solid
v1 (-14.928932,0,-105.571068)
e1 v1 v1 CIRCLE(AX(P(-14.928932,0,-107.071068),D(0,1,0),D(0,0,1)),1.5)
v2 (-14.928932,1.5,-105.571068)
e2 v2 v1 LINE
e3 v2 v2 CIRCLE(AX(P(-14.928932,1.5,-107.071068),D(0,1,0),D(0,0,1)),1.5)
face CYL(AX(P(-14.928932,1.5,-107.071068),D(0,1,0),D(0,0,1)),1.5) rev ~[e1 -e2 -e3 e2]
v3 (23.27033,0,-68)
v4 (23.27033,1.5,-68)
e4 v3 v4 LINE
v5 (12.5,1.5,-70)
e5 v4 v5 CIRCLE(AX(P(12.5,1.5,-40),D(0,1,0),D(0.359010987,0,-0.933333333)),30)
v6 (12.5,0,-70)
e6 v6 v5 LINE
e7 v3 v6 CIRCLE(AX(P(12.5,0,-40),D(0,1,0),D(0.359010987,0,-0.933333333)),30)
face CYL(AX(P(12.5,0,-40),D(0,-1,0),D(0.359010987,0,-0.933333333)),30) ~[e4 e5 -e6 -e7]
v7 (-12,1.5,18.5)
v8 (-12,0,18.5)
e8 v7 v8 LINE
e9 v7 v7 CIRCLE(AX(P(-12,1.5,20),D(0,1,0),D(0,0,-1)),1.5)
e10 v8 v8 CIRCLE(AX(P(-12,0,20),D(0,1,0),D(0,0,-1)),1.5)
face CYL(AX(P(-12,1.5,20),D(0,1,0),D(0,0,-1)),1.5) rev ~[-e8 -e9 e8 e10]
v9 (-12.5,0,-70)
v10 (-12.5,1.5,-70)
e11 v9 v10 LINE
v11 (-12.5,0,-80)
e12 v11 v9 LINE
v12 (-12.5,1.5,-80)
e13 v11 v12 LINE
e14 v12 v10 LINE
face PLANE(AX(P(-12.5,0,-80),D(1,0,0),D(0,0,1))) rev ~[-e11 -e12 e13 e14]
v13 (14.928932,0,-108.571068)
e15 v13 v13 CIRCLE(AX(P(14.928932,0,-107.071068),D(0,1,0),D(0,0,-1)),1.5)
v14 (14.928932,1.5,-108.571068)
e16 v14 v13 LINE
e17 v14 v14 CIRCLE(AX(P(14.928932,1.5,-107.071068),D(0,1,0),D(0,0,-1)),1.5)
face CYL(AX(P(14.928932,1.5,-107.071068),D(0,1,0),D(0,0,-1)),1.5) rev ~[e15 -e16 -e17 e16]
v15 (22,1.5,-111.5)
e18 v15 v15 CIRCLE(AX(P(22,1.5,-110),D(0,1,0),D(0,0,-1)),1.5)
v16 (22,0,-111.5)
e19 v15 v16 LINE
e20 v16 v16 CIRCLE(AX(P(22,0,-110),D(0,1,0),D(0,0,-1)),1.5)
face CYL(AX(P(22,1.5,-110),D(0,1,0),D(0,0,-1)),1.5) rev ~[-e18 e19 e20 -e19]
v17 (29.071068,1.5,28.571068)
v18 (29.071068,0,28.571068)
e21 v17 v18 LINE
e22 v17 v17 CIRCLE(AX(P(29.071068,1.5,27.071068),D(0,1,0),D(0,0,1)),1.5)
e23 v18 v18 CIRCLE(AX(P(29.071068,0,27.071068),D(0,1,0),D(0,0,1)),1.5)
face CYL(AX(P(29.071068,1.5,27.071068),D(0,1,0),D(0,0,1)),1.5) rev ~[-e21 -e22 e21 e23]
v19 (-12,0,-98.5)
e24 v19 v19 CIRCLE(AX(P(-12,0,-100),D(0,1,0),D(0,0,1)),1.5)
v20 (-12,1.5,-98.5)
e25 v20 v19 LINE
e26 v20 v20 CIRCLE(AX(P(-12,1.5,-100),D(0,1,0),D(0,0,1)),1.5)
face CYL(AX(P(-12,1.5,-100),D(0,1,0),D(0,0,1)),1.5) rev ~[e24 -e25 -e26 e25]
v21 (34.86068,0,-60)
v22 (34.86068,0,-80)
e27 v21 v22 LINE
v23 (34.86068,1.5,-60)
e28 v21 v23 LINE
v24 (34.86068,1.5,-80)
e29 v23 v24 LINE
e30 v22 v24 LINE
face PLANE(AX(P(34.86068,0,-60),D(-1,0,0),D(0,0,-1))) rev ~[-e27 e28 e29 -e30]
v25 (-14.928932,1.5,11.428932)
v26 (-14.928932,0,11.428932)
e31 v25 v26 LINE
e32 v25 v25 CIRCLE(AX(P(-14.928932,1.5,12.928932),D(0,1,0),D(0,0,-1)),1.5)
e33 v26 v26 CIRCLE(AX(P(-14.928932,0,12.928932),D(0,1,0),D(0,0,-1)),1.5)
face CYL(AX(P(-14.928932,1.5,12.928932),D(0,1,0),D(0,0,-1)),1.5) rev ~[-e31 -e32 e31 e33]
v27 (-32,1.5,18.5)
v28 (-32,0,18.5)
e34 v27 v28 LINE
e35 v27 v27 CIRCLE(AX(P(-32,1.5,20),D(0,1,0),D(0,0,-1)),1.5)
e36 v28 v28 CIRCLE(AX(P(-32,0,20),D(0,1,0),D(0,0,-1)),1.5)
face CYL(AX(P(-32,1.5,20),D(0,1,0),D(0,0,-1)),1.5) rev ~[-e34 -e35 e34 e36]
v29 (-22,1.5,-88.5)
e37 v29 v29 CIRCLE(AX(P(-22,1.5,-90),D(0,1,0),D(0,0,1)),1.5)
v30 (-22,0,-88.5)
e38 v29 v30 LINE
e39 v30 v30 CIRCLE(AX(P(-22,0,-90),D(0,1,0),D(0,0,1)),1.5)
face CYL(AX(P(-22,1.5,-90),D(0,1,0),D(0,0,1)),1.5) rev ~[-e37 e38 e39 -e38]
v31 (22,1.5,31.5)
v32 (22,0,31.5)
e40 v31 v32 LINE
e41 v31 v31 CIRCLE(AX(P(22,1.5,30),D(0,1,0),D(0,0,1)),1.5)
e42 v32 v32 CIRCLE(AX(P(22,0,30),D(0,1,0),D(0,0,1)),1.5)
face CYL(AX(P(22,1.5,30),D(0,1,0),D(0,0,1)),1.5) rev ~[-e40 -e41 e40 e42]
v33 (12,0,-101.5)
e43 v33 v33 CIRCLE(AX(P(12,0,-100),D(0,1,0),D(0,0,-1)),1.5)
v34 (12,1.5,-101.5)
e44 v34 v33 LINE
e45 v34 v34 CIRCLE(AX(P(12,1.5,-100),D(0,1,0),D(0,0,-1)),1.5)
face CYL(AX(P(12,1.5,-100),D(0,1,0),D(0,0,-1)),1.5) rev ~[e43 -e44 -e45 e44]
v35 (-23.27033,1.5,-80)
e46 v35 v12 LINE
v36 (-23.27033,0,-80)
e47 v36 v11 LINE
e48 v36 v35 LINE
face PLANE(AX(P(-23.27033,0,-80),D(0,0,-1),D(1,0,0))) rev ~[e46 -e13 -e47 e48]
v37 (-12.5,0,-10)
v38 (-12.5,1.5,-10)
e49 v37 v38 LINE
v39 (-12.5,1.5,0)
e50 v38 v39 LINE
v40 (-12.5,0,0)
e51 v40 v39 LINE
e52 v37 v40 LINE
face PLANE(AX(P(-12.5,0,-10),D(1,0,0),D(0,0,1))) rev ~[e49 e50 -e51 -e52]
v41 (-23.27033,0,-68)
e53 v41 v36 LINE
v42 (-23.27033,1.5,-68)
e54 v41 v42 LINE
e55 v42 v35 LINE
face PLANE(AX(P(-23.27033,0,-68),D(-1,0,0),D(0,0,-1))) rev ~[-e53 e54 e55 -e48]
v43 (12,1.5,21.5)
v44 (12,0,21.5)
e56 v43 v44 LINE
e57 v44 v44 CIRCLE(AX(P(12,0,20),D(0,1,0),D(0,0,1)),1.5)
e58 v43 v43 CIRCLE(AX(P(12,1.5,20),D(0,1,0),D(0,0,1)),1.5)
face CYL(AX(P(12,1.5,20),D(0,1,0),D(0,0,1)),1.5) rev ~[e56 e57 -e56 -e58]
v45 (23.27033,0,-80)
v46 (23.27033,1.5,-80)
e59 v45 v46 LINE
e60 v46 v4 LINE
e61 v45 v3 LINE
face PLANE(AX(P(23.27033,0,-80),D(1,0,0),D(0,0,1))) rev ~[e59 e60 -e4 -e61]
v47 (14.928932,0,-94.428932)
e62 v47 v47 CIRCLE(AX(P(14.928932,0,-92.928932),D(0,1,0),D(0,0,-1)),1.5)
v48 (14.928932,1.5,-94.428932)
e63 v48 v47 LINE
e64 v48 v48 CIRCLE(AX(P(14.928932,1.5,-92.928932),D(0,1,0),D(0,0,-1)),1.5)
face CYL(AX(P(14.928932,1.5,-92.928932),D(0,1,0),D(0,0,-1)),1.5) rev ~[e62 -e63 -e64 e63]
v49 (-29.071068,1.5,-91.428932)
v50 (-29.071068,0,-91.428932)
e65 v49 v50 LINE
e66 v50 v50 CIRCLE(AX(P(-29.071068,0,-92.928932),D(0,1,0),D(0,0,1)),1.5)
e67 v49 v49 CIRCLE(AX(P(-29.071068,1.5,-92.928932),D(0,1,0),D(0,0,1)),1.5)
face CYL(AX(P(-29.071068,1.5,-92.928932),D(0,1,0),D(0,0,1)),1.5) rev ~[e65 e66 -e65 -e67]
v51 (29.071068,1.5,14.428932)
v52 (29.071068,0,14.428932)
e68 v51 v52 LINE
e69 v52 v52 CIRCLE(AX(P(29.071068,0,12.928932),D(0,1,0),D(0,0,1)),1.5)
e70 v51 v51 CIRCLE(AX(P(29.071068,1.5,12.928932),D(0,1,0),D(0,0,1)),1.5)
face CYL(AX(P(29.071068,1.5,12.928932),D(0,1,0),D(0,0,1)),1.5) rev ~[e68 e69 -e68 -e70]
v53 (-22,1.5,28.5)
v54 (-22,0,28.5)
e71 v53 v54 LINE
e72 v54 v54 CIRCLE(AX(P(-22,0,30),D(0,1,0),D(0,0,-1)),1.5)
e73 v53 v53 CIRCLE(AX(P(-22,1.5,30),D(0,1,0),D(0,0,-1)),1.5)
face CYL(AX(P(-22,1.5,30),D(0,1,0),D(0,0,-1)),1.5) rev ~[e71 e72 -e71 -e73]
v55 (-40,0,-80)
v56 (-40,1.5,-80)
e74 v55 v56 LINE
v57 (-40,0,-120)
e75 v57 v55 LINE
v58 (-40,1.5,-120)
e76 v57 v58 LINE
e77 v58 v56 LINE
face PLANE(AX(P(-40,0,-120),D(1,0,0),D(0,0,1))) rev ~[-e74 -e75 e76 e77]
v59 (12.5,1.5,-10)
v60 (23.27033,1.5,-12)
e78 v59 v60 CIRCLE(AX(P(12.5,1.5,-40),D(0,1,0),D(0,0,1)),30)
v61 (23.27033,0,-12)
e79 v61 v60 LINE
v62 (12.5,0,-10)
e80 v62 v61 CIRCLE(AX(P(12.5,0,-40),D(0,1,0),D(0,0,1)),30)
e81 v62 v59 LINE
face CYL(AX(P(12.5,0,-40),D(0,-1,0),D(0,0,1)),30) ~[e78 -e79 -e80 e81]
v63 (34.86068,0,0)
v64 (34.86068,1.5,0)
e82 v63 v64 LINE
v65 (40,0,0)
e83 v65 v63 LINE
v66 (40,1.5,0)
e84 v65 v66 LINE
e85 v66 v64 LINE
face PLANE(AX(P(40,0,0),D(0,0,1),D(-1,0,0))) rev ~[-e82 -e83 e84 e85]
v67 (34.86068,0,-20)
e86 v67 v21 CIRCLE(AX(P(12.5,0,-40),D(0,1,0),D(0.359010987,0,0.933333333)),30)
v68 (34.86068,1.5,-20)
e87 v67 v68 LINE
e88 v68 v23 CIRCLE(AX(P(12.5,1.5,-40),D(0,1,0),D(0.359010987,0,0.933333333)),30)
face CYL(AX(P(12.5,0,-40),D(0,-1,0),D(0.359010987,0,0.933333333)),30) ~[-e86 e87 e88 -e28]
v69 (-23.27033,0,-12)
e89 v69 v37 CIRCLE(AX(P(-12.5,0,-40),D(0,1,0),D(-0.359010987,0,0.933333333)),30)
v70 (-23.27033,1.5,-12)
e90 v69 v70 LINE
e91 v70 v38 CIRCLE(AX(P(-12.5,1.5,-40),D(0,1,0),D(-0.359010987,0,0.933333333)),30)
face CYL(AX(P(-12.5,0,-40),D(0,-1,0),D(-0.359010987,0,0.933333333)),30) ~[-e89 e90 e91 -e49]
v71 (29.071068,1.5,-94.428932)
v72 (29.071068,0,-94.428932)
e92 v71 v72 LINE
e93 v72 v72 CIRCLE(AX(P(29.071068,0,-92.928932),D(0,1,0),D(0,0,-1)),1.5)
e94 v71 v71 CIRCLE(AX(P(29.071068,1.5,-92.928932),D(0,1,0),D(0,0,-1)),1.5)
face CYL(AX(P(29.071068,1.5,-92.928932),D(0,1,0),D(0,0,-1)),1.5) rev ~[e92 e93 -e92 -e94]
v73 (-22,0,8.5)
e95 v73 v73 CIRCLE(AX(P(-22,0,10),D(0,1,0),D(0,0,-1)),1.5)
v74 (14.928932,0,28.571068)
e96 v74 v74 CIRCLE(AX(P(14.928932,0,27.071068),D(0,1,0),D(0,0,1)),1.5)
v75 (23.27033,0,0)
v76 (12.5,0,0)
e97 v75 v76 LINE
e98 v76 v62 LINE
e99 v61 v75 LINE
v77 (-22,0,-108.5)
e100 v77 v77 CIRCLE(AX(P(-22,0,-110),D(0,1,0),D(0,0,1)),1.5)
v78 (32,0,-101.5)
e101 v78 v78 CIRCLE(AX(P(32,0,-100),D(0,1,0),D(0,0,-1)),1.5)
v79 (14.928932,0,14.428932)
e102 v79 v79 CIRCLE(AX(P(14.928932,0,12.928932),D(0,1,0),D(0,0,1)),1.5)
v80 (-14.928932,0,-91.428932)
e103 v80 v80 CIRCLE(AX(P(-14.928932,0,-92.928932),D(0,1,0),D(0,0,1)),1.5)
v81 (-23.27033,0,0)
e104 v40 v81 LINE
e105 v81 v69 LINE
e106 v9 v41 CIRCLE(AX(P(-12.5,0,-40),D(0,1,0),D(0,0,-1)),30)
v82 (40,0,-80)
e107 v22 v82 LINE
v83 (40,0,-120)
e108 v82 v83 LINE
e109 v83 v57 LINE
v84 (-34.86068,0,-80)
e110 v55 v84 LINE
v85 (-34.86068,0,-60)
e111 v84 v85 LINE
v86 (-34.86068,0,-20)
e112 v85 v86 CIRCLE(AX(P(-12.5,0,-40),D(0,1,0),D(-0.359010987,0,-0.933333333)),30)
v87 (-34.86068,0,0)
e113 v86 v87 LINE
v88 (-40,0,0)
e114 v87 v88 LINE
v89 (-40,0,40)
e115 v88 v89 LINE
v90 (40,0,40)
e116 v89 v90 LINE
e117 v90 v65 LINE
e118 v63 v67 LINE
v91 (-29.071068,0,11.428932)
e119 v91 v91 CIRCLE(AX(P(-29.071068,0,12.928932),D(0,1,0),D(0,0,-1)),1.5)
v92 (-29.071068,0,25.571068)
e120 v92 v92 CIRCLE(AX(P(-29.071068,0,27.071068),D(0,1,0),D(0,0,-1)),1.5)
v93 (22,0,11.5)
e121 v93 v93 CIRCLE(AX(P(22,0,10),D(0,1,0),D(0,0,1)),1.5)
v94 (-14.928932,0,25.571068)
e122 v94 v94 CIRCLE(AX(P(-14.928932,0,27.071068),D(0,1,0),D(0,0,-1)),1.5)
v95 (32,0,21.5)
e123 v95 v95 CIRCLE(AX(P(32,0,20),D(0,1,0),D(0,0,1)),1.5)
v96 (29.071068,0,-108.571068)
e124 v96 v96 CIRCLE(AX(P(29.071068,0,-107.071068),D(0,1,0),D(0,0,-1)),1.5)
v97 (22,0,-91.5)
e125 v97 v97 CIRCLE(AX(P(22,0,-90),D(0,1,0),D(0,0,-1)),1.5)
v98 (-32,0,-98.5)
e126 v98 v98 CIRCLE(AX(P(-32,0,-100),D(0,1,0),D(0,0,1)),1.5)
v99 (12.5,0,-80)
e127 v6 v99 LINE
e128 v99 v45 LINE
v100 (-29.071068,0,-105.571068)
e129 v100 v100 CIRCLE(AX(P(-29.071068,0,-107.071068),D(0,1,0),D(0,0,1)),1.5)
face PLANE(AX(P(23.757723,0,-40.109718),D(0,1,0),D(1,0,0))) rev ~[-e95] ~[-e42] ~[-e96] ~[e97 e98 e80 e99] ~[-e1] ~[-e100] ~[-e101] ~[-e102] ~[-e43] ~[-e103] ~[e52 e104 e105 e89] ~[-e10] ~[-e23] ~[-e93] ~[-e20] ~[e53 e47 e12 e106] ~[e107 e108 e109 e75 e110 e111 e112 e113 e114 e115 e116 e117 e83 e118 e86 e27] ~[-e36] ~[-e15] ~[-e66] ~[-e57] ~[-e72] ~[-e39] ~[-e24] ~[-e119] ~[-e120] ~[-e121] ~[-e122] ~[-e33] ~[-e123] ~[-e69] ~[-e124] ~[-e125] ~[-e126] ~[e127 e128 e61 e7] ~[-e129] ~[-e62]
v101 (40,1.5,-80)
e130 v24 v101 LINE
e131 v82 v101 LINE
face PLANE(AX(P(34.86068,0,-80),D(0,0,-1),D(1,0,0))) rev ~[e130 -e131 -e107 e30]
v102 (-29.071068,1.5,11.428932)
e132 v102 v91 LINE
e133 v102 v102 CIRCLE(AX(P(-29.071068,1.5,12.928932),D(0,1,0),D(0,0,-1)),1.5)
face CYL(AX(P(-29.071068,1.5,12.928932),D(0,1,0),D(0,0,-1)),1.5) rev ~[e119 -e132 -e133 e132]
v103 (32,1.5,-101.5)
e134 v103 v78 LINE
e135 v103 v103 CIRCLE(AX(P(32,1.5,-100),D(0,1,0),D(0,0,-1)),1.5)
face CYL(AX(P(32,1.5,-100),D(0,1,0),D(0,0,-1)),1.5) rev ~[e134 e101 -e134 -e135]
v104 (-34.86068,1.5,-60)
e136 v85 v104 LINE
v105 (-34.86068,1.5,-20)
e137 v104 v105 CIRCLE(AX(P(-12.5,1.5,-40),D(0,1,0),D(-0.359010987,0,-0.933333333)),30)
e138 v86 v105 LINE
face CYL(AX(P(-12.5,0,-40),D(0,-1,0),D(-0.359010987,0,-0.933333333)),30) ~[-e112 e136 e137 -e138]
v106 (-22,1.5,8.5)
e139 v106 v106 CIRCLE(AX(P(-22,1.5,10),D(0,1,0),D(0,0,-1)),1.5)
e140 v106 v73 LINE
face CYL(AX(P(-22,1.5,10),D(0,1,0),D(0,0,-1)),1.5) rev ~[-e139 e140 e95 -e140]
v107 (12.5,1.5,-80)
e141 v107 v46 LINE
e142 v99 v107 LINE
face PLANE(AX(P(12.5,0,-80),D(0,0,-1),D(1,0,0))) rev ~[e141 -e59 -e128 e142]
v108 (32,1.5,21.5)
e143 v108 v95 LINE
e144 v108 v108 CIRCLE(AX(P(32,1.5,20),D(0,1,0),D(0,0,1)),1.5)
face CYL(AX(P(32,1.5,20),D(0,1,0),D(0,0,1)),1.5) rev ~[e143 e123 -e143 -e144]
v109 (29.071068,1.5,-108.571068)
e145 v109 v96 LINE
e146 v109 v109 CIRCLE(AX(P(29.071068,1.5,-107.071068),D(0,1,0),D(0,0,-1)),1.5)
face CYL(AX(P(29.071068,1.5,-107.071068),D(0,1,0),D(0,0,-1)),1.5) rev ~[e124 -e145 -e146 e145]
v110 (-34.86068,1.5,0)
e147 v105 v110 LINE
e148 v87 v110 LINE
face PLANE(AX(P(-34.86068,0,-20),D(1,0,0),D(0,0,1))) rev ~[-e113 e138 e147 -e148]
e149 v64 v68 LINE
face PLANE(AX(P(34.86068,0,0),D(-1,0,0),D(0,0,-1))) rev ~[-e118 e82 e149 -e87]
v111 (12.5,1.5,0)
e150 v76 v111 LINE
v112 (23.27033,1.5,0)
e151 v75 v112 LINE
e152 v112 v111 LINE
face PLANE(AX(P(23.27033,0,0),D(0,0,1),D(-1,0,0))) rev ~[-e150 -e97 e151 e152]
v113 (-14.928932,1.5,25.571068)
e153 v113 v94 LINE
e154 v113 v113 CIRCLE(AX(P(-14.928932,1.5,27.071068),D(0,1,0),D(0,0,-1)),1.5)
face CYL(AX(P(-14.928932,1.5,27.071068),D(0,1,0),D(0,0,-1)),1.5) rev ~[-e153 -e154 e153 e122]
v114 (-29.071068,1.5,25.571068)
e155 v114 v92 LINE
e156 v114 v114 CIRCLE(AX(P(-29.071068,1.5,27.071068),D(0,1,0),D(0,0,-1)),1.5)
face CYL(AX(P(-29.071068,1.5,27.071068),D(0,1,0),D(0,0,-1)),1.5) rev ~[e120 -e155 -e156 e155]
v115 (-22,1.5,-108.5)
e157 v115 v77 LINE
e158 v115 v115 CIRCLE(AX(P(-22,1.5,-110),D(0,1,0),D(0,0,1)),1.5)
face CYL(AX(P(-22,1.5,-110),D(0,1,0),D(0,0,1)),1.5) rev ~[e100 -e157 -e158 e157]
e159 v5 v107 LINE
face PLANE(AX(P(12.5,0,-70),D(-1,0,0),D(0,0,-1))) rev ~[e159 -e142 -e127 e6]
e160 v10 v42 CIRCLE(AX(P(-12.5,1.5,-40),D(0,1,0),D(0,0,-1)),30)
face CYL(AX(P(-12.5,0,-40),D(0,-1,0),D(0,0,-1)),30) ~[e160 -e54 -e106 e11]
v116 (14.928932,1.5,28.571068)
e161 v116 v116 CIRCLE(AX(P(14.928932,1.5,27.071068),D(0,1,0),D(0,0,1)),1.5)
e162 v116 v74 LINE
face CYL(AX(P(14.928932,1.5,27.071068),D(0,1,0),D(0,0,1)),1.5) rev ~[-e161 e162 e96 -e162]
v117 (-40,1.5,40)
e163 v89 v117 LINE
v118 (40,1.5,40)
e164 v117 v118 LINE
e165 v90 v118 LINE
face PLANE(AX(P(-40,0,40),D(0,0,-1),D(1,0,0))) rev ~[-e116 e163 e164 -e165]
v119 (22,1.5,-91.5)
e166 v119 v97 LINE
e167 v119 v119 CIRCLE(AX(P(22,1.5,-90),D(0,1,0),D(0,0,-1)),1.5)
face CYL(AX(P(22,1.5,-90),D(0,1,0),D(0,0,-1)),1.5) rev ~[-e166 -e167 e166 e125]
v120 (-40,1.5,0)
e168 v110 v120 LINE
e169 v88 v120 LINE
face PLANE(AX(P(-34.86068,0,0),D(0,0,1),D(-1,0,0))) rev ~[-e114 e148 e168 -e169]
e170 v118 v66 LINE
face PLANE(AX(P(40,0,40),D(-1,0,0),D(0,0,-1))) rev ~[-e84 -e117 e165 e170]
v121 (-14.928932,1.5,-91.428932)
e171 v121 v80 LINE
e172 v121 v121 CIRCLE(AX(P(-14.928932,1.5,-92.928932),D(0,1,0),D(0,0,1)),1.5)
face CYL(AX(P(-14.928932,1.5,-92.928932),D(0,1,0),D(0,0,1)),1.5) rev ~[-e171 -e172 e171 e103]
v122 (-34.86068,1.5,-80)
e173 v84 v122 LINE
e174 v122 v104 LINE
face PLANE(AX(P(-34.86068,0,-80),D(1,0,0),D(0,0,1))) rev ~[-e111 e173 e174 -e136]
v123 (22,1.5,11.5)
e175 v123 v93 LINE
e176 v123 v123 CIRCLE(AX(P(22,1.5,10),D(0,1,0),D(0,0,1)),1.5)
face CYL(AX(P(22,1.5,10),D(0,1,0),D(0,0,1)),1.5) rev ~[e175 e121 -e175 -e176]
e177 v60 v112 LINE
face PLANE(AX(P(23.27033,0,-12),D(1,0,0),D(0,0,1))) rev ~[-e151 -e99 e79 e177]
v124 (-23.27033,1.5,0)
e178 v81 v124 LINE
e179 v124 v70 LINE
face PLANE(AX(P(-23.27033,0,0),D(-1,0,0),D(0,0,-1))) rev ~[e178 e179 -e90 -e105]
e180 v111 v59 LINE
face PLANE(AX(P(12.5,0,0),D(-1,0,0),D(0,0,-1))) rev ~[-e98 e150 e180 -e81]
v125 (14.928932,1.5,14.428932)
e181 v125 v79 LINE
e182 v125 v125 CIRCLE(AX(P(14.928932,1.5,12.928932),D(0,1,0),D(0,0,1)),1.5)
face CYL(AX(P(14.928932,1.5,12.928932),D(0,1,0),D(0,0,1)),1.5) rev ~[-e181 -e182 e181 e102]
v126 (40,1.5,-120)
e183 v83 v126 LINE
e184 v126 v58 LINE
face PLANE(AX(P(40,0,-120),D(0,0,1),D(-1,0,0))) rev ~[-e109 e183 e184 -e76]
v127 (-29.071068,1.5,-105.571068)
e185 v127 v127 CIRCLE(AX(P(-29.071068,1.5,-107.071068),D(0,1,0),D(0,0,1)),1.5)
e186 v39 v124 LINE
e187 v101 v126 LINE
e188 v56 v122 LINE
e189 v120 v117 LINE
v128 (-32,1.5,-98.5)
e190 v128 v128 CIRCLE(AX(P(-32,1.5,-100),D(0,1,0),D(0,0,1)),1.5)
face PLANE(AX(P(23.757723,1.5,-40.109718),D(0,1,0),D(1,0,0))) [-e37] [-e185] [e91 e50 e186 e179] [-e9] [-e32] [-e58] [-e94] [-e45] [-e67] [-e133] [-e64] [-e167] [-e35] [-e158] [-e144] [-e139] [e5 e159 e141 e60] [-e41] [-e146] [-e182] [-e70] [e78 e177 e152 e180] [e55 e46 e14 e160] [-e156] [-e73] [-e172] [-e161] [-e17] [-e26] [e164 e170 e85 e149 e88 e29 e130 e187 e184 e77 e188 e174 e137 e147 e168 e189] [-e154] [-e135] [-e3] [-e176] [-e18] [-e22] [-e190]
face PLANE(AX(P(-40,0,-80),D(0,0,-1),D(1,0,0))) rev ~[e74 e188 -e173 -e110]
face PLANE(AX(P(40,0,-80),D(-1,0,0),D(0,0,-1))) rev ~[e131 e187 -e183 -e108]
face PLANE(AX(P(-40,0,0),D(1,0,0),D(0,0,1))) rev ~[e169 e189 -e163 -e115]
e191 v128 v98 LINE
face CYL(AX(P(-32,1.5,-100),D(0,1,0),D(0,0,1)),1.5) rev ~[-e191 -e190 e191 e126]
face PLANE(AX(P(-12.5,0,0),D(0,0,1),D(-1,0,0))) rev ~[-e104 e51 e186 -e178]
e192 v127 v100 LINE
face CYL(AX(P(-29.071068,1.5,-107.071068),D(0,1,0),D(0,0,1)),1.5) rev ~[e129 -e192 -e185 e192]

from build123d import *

# Parameters (mm, degrees)
SALIENTE_EXTRUIR1_DEPTH = 1.5
CROQUIS2_R              = 1.5
CORTAR_EXTRUIR1_DEPTH   = 1.5


with BuildPart() as part:
    # Croquis1 → Saliente-Extruir1 (new body)
    with BuildSketch(Plane(origin=(0, 0, 0), x_dir=(1, 0, 0), z_dir=(0, 1, 0))):
        with BuildLine():
            ThreePointArc((23.270329614, 12), (29.541594579, 15.310243942), (34.860679775, 20))
            ThreePointArc((34.860679775, 20), (42.5, 40), (34.860679775, 60))
            ThreePointArc((34.860679775, 60), (29.541594579, 64.689756058), (23.270329614, 68))
            ThreePointArc((23.270329614, 68), (17.977225575, 69.495762408), (12.5, 70))
            Line((12.5, 70), (12.5, 10))
            ThreePointArc((12.5, 10), (17.977225575, 10.504237592), (23.270329614, 12))
        make_face()
        Polygon((-40, 0), (-40, -40), (40, -40), (40, 0), (34.860679775, 0), (23.270329614, 0), (12.5, 0), (12.5, 10), (12.5, 70), (12.5, 80), (23.270329614, 80), (34.860679775, 80), (40, 80), (40, 120), (-40, 120), (-40, 80), (-34.860679775, 80), (-23.270329614, 80), (-12.5, 80), (-12.5, 70), (-12.5, 40), (-12.5, 10), (-12.5, 0), (-23.270329614, 0), (-34.860679775, 0), align=None)
        with BuildLine():
            ThreePointArc((-34.860679775, 60), (-42.5, 40), (-34.860679775, 20))
            ThreePointArc((-34.860679775, 20), (-29.541594579, 15.310243942), (-23.270329614, 12))
            ThreePointArc((-23.270329614, 12), (-17.977225575, 10.504237592), (-12.5, 10))
            Line((-12.5, 10), (-12.5, 40))
            Line((-12.5, 40), (-12.5, 70))
            ThreePointArc((-12.5, 70), (-17.977225575, 69.495762408), (-23.270329614, 68))
            ThreePointArc((-23.270329614, 68), (-29.541594579, 64.689756058), (-34.860679775, 60))
        make_face()
        with BuildLine():
            Line((23.270329614, 0), (34.860679775, 0))
            Line((34.860679775, 0), (34.860679775, 20))
            ThreePointArc((34.860679775, 20), (29.541594579, 15.310243942), (23.270329614, 12))
            Line((23.270329614, 12), (23.270329614, 0))
        make_face()
        with BuildLine():
            ThreePointArc((23.270329614, 68), (29.541594579, 64.689756058), (34.860679775, 60))
            Line((34.860679775, 60), (34.860679775, 80))
            Line((34.860679775, 80), (23.270329614, 80))
            Line((23.270329614, 80), (23.270329614, 68))
        make_face()
        with BuildLine():
            Line((-34.860679775, 80), (-34.860679775, 60))
            ThreePointArc((-34.860679775, 60), (-29.541594579, 64.689756058), (-23.270329614, 68))
            Line((-23.270329614, 68), (-23.270329614, 80))
            Line((-23.270329614, 80), (-34.860679775, 80))
        make_face()
        with BuildLine():
            Line((-34.860679775, 20), (-34.860679775, 0))
            Line((-34.860679775, 0), (-23.270329614, 0))
            Line((-23.270329614, 0), (-23.270329614, 12))
            ThreePointArc((-23.270329614, 12), (-29.541594579, 15.310243942), (-34.860679775, 20))
        make_face()
    extrude(amount=SALIENTE_EXTRUIR1_DEPTH)

    # Croquis2 → Cortar-Extruir1 (cut)
    with BuildSketch(Plane(origin=(0, 1.5, 0), x_dir=(1, 0, 0), z_dir=(0, 1, 0))):
        with Locations(Location((32, -20, 0), (0, 0, 270))):
            Circle(CROQUIS2_R)
        with Locations(Location((29.071067812, -27.071067812, 0), (0, 0, 270))):
            Circle(CROQUIS2_R)
        with Locations(Location((22, -30, 0), (0, 0, 270))):
            Circle(CROQUIS2_R)
        with Locations(Location((14.928932188, -27.071067812, 0), (0, 0, 270))):
            Circle(CROQUIS2_R)
        with Locations(Location((12, -20, 0), (0, 0, 270))):
            Circle(CROQUIS2_R)
        with Locations(Location((14.928932188, -12.928932188, 0), (0, 0, 270))):
            Circle(CROQUIS2_R)
        with Locations(Location((22, -10, 0), (0, 0, 270))):
            Circle(CROQUIS2_R)
        with Locations(Location((29.071067812, -12.928932188, 0), (0, 0, 270))):
            Circle(CROQUIS2_R)
        with Locations(Location((-29.071067812, -12.928932188, 0), (0, 0, 90))):
            Circle(CROQUIS2_R)
        with Locations(Location((-22, -10, 0), (0, 0, 90))):
            Circle(CROQUIS2_R)
        with Locations(Location((-14.928932188, -12.928932188, 0), (0, 0, 90))):
            Circle(CROQUIS2_R)
        with Locations(Location((-12, -20, 0), (0, 0, 90))):
            Circle(CROQUIS2_R)
        with Locations(Location((-14.928932188, -27.071067812, 0), (0, 0, 90))):
            Circle(CROQUIS2_R)
        with Locations(Location((-22, -30, 0), (0, 0, 90))):
            Circle(CROQUIS2_R)
        with Locations(Location((-29.071067812, -27.071067812, 0), (0, 0, 90))):
            Circle(CROQUIS2_R)
        with Locations(Location((-32, -20, 0), (0, 0, 90))):
            Circle(CROQUIS2_R)
        with Locations(Location((-32, 100, 0), (0, 0, 270))):
            Circle(CROQUIS2_R)
        with Locations(Location((-29.071067812, 107.071067812, 0), (0, 0, 270))):
            Circle(CROQUIS2_R)
        with Locations(Location((-22, 110, 0), (0, 0, 270))):
            Circle(CROQUIS2_R)
        with Locations(Location((-14.928932188, 107.071067812, 0), (0, 0, 270))):
            Circle(CROQUIS2_R)
        with Locations(Location((-12, 100, 0), (0, 0, 270))):
            Circle(CROQUIS2_R)
        with Locations(Location((-14.928932188, 92.928932188, 0), (0, 0, 270))):
            Circle(CROQUIS2_R)
        with Locations(Location((-22, 90, 0), (0, 0, 270))):
            Circle(CROQUIS2_R)
        with Locations(Location((-29.071067812, 92.928932188, 0), (0, 0, 270))):
            Circle(CROQUIS2_R)
        with Locations(Location((29.071067812, 92.928932188, 0), (0, 0, 90))):
            Circle(CROQUIS2_R)
        with Locations(Location((22, 90, 0), (0, 0, 90))):
            Circle(CROQUIS2_R)
        with Locations(Location((14.928932188, 92.928932188, 0), (0, 0, 90))):
            Circle(CROQUIS2_R)
        with Locations(Location((12, 100, 0), (0, 0, 90))):
            Circle(CROQUIS2_R)
        with Locations(Location((14.928932188, 107.071067812, 0), (0, 0, 90))):
            Circle(CROQUIS2_R)
        with Locations(Location((22, 110, 0), (0, 0, 90))):
            Circle(CROQUIS2_R)
        with Locations(Location((29.071067812, 107.071067812, 0), (0, 0, 90))):
            Circle(CROQUIS2_R)
        with Locations(Location((32, 100, 0), (0, 0, 90))):
            Circle(CROQUIS2_R)
    extrude(amount=-CORTAR_EXTRUIR1_DEPTH, mode=Mode.SUBTRACT)


solid = part.part
